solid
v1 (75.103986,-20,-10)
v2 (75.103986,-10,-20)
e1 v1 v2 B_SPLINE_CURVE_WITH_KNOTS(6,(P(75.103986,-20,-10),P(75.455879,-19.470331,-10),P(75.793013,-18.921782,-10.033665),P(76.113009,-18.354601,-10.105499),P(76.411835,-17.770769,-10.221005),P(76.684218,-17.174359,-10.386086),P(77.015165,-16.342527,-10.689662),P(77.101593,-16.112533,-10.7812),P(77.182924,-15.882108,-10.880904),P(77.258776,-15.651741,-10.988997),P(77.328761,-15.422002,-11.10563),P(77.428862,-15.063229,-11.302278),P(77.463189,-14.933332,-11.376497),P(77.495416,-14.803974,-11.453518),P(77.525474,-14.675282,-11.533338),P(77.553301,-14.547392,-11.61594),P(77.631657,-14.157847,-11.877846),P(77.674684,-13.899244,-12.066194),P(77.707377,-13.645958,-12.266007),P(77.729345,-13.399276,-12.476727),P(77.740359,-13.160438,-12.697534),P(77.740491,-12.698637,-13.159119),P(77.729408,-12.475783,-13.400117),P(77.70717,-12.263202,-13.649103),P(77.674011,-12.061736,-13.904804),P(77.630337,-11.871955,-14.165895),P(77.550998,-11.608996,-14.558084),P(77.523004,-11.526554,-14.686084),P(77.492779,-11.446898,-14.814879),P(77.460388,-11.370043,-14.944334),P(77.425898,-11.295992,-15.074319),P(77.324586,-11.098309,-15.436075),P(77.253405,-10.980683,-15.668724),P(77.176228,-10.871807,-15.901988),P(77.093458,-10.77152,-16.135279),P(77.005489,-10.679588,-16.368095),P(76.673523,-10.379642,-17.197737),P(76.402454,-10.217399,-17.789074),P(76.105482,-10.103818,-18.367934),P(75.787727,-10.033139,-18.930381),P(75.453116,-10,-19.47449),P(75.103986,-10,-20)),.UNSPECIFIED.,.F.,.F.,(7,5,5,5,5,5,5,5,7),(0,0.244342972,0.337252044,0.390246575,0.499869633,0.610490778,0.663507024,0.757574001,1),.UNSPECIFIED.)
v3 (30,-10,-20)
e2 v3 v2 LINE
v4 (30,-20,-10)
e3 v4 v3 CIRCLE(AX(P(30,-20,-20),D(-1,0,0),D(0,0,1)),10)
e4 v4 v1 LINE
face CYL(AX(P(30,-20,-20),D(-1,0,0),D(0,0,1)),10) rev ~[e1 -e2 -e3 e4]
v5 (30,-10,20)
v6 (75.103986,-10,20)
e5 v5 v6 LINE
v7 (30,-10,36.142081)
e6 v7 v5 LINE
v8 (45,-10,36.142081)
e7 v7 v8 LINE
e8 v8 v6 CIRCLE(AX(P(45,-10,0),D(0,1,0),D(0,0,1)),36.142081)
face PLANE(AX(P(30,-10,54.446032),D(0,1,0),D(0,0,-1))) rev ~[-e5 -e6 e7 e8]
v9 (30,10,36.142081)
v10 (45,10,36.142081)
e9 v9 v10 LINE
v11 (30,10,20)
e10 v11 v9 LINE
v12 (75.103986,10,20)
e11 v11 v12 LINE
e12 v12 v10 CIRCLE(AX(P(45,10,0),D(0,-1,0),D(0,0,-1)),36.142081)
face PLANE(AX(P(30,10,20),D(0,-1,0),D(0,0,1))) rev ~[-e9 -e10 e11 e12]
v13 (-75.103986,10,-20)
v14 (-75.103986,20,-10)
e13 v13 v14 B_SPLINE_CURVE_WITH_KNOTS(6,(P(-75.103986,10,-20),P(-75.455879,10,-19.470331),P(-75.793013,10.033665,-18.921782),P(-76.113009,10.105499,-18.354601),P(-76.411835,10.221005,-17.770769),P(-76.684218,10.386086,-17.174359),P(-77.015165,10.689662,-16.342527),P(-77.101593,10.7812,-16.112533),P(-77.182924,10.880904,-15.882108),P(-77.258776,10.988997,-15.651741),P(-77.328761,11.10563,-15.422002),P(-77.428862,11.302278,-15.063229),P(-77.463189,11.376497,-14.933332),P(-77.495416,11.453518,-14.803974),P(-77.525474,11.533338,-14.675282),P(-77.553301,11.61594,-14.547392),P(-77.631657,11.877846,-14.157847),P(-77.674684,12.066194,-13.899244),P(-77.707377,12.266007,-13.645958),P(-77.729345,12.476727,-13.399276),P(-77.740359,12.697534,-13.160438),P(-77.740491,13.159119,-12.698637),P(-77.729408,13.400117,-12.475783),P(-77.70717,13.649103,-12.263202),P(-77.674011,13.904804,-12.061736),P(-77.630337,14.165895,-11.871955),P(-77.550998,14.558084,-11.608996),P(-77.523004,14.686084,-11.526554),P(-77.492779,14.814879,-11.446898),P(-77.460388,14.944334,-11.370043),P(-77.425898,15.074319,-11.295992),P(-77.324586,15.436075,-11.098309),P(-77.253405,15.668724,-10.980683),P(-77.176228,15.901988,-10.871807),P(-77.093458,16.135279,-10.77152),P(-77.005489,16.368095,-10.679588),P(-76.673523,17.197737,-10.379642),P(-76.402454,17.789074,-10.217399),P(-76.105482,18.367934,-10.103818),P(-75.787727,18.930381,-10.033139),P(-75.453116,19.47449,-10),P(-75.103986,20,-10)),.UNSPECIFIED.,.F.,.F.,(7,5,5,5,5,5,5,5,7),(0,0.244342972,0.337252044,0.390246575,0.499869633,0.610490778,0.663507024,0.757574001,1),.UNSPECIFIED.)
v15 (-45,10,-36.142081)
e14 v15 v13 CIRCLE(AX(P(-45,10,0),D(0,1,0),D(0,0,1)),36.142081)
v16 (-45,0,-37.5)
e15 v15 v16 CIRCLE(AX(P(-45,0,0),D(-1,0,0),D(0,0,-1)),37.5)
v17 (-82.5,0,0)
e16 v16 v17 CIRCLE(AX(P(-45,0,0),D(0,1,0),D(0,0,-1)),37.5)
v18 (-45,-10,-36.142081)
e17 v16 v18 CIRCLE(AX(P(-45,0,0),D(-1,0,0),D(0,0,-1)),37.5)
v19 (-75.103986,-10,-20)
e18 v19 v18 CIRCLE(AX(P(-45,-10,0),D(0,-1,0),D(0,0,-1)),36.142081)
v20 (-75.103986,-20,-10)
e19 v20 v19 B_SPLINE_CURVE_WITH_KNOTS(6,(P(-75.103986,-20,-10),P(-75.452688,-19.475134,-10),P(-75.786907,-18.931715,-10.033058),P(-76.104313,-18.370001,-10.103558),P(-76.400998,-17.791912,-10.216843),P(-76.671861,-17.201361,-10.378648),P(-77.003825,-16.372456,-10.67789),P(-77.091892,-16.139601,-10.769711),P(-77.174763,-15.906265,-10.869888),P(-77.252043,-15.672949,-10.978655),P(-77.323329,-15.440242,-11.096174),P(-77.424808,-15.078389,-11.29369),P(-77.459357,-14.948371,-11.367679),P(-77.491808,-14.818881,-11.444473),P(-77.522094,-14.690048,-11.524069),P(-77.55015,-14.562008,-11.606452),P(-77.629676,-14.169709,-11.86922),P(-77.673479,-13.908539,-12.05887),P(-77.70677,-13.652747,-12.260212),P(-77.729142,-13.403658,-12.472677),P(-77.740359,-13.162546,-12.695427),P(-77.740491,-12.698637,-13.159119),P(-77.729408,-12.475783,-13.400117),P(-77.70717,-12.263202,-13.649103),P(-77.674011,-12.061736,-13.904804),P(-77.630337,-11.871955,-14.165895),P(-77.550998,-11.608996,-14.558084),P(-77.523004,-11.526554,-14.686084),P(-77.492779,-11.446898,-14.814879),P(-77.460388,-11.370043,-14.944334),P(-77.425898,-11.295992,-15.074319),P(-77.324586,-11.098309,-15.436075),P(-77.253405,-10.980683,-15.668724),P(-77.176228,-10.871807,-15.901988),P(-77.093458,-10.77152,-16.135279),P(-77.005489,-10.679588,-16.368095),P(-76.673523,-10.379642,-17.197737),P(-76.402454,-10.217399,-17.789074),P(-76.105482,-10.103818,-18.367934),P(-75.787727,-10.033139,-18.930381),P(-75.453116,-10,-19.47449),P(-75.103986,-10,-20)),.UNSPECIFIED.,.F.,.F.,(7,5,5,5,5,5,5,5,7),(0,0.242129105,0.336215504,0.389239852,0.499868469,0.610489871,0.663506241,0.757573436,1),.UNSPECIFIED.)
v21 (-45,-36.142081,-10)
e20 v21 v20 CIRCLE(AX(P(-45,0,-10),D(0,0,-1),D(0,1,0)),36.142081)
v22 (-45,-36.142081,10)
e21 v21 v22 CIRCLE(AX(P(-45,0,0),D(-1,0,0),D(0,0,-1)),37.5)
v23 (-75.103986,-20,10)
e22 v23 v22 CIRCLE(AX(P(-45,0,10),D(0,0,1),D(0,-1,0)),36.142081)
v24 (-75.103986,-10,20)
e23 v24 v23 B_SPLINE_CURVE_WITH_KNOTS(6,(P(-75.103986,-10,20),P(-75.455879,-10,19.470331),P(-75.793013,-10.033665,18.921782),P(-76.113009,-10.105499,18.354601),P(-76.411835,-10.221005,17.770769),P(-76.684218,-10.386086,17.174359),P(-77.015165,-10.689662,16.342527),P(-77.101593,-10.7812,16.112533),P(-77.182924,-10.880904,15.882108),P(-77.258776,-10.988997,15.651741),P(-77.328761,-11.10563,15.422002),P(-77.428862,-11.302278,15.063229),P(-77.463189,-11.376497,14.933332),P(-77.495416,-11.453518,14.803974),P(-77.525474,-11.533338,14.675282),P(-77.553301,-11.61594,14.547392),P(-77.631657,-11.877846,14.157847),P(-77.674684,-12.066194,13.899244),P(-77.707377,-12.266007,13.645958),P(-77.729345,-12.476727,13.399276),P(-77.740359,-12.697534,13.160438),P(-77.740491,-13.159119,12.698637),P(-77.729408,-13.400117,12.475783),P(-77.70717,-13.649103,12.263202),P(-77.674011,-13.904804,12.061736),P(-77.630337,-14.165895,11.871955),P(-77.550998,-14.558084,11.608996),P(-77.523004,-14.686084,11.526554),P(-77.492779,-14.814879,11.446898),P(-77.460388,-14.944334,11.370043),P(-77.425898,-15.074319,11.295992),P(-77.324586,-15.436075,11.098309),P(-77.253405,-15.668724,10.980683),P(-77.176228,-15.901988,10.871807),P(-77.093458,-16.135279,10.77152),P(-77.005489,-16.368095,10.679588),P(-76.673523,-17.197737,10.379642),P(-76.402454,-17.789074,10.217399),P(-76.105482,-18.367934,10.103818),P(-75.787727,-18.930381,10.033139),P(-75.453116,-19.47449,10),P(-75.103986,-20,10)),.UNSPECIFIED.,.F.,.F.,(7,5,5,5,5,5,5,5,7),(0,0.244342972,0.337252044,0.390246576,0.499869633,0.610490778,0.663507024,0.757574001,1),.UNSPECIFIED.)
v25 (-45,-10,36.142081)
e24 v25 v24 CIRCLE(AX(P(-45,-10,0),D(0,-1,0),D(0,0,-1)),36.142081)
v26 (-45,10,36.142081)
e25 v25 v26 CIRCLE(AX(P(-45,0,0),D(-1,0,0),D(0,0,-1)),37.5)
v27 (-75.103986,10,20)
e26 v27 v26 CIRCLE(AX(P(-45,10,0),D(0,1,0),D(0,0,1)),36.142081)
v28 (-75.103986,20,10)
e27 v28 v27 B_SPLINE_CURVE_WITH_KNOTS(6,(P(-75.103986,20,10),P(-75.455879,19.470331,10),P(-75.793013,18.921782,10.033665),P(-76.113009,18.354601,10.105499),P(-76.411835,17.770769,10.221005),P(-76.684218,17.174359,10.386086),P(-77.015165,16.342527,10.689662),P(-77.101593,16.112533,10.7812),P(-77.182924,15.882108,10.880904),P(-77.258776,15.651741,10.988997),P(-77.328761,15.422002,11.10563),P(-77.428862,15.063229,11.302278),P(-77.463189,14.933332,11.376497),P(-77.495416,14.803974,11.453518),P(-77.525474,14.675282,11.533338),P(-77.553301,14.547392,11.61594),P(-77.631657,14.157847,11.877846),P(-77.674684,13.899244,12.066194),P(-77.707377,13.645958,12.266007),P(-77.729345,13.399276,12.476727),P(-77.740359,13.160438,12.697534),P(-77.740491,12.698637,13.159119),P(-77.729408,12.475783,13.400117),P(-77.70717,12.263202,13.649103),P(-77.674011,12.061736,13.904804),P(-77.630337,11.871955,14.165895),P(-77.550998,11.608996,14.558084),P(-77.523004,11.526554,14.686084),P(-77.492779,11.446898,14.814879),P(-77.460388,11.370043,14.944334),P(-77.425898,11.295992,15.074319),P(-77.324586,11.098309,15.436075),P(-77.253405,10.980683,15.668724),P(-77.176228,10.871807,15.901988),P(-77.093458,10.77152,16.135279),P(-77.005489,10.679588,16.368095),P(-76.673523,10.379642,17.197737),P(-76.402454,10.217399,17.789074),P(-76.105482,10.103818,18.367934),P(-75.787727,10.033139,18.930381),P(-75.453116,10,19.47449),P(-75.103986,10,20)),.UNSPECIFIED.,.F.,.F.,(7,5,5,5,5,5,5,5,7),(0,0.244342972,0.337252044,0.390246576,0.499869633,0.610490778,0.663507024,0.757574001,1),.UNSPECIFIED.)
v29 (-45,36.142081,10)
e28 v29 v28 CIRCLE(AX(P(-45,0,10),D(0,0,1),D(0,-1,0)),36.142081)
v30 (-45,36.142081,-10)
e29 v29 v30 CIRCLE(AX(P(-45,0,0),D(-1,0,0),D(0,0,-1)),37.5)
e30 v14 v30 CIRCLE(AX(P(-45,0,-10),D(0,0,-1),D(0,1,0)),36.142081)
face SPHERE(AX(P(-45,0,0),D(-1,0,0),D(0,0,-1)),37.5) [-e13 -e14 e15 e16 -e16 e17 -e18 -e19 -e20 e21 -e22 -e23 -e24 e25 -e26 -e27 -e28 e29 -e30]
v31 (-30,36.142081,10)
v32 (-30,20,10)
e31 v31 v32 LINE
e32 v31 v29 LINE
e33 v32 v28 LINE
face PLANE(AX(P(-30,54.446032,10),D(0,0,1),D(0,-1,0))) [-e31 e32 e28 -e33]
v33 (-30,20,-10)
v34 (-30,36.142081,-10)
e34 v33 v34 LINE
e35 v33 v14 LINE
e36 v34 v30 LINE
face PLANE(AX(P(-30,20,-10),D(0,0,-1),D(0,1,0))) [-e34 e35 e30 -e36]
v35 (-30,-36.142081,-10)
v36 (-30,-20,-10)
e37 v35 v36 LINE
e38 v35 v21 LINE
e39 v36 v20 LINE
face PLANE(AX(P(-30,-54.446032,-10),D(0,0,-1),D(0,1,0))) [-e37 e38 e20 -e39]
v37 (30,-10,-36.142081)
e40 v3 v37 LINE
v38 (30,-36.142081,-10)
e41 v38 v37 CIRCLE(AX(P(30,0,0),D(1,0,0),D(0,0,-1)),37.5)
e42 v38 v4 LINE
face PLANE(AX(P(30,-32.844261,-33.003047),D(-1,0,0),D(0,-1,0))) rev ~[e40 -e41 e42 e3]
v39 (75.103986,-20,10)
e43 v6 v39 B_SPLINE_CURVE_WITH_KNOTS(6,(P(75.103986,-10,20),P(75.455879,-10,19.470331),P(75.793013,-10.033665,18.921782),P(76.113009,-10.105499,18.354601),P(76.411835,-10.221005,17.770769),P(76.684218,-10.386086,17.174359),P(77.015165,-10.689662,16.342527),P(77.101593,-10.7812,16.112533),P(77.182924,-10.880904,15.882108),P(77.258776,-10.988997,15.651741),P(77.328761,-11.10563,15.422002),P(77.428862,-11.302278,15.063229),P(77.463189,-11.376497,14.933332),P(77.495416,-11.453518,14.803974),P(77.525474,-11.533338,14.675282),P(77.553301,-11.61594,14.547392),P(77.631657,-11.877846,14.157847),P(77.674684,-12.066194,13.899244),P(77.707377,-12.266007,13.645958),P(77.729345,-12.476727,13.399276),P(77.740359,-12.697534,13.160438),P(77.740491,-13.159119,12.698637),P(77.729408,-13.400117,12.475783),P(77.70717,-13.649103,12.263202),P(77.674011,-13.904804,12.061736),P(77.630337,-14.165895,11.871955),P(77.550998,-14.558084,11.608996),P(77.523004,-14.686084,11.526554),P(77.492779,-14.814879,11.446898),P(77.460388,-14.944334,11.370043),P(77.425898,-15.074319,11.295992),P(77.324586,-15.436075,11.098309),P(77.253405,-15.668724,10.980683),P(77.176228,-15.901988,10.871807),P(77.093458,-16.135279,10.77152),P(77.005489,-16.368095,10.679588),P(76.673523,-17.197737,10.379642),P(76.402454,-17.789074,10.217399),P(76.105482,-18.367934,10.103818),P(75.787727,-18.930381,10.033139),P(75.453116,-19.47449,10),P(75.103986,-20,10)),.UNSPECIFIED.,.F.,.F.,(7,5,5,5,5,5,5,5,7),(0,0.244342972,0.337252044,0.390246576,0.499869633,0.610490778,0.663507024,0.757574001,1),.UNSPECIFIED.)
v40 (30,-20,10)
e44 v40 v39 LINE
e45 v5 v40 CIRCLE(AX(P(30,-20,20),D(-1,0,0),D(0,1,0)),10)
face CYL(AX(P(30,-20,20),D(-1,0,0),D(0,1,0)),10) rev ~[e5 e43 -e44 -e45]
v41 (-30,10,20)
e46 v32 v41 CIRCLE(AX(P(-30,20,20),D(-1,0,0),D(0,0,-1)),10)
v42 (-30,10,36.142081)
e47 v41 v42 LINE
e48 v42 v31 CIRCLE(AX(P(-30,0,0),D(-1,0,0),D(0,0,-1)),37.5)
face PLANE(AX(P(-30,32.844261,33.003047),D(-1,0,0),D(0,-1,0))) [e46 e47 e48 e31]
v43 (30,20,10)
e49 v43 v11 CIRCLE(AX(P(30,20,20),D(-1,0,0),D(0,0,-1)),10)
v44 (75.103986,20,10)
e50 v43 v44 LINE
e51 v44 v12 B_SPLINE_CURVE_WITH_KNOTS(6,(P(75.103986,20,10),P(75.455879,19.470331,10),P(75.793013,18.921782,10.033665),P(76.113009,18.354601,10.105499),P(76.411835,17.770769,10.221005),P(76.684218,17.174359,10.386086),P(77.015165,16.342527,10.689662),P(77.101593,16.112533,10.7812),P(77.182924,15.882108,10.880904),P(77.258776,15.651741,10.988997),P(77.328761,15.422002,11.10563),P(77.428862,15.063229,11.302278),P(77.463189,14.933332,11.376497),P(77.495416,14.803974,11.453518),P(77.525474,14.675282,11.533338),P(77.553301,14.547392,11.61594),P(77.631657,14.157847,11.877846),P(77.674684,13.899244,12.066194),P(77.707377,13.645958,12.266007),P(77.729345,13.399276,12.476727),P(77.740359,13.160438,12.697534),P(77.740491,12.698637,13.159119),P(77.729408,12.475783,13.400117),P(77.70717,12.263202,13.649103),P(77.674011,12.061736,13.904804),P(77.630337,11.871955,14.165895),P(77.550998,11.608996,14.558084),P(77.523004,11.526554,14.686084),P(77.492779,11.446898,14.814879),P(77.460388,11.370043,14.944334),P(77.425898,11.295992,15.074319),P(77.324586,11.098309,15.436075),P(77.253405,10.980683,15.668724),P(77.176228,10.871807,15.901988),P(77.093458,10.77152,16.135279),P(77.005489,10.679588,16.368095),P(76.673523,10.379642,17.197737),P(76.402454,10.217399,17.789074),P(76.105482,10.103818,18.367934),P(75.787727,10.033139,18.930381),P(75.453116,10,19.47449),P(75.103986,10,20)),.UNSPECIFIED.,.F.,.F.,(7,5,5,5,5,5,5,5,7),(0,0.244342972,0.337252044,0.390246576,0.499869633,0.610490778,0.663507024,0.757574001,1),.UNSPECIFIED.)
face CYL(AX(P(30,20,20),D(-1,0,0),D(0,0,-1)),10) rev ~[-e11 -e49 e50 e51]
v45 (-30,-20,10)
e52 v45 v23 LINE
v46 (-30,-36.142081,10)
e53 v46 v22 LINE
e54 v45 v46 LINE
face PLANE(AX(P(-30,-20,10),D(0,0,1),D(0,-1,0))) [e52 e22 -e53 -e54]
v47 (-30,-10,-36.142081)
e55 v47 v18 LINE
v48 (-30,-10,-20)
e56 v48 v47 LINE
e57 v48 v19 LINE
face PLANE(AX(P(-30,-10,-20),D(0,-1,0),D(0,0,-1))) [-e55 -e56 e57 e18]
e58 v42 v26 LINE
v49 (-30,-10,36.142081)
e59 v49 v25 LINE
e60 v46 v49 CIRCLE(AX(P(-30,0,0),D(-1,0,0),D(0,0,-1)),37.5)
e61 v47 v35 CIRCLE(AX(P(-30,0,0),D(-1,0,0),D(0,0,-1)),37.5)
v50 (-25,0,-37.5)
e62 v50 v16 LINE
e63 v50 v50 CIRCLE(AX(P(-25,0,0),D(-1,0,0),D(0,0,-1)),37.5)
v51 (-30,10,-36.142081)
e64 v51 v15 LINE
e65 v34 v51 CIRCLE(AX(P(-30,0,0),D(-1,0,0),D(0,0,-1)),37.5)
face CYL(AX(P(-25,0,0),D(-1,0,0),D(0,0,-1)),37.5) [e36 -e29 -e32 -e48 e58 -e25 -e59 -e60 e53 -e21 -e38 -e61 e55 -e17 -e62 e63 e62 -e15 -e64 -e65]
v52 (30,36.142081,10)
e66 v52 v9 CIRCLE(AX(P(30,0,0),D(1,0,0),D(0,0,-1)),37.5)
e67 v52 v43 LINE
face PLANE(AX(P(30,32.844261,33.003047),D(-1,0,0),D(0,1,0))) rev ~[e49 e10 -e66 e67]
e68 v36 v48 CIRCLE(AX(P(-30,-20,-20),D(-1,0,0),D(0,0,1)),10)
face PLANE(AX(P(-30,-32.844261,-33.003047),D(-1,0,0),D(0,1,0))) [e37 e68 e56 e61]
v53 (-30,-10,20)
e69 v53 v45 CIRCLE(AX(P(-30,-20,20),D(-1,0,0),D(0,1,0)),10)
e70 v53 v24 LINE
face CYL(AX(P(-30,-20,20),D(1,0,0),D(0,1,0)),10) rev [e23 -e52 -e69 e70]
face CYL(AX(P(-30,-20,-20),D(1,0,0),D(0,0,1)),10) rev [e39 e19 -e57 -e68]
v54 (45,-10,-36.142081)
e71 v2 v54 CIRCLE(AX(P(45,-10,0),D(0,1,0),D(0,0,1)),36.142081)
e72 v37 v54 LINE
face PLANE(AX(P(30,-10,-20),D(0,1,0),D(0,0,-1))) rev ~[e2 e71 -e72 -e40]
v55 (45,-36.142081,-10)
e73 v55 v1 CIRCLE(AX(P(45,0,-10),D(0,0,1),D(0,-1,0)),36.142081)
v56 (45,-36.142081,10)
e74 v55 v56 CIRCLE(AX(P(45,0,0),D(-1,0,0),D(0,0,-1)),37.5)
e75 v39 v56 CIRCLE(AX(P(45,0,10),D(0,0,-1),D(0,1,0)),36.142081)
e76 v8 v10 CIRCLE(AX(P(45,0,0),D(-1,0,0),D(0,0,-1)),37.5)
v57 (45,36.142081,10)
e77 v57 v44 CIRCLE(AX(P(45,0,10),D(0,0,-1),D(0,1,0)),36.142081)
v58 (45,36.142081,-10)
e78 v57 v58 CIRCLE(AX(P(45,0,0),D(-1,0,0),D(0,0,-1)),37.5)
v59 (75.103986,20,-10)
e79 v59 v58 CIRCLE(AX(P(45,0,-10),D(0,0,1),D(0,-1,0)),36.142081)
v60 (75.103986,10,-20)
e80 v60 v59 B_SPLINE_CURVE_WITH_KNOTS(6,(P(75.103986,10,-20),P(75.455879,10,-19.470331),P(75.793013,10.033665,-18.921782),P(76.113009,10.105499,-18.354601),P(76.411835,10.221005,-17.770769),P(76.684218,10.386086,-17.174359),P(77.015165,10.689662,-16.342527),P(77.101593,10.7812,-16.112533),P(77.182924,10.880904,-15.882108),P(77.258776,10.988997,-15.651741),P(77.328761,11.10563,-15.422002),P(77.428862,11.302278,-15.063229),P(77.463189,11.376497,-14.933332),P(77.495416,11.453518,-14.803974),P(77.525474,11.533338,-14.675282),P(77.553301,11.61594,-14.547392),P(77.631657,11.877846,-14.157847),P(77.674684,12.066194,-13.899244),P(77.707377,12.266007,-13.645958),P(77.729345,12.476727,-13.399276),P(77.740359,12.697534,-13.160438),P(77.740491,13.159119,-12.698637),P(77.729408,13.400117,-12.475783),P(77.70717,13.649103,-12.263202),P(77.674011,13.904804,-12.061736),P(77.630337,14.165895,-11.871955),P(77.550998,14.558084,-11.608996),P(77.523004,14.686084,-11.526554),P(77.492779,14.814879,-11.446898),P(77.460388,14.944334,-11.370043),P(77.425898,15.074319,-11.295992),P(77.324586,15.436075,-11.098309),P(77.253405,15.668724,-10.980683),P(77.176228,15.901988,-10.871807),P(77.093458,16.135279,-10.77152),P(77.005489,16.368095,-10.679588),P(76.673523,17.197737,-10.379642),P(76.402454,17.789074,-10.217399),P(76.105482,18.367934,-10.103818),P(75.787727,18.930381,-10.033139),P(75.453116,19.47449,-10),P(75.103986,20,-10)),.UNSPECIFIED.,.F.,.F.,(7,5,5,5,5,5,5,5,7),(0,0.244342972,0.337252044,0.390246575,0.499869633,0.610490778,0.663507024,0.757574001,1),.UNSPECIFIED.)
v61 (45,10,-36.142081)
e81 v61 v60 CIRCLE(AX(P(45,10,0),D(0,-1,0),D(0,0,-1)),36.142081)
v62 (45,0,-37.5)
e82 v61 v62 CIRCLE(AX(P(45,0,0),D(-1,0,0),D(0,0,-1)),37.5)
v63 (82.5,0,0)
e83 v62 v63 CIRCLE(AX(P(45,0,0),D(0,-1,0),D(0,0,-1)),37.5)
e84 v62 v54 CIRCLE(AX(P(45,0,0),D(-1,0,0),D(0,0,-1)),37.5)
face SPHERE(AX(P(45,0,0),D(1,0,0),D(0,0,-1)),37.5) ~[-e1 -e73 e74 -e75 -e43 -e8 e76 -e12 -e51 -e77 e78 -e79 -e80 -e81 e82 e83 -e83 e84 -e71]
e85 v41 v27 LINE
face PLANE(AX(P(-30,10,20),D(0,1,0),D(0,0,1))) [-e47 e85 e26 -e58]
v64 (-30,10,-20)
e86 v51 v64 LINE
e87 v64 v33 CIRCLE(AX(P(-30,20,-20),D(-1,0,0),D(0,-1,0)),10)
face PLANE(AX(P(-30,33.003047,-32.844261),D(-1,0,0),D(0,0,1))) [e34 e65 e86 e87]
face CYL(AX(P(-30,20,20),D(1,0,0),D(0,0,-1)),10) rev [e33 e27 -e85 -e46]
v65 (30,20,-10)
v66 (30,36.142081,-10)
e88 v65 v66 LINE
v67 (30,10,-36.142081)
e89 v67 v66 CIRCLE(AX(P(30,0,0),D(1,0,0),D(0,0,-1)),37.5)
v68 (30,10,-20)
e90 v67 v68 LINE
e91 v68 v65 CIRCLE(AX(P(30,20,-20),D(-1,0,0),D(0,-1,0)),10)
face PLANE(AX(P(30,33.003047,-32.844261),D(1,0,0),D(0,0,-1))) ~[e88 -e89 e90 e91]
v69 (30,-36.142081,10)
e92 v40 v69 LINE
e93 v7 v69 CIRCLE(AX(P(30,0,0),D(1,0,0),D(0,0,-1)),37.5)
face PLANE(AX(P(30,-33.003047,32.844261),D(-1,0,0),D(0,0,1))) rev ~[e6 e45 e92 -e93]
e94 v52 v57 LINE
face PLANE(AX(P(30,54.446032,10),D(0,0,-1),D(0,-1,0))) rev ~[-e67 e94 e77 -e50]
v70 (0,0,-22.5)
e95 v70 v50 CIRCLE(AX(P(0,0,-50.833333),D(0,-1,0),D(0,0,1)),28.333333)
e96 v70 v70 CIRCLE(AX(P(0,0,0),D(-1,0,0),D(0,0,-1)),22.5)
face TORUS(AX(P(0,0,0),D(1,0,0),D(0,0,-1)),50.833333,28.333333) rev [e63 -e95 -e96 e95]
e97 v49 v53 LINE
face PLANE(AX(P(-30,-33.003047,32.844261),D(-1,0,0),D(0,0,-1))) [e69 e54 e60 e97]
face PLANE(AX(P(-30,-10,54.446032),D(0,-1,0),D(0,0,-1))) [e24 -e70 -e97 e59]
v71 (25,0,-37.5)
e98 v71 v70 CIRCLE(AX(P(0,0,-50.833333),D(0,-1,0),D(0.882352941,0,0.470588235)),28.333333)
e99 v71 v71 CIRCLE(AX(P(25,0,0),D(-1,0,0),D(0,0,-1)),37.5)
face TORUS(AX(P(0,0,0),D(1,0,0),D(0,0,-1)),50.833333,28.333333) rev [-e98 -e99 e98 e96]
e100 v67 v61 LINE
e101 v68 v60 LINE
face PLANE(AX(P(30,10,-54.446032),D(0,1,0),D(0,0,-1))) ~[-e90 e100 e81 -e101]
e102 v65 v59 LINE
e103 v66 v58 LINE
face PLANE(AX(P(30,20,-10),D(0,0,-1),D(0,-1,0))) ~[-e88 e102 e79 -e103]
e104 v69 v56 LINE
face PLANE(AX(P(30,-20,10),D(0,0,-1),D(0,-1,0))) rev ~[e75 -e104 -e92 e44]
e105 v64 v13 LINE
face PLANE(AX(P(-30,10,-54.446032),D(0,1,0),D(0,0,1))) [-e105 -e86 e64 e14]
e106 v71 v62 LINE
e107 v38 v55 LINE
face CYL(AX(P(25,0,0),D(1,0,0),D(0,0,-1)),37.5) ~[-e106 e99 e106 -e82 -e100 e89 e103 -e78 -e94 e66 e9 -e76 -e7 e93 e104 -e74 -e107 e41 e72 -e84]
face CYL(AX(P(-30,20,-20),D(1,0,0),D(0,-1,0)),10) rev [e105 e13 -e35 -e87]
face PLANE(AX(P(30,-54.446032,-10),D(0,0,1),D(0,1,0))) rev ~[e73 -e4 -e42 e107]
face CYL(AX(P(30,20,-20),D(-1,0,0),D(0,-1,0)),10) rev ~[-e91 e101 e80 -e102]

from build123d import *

# Parameters (mm, degrees)
SKETCH_1_W               = 5
SKETCH_1_H               = 37.5
CUT_EXTRUDE_1_DEPTH      = 77.40353395
PATTERN_CIRCULAR_1_COUNT = 4
MIRROR_2_COPY_1_DEPTH    = 77.40353395
MIRROR_2_COPY_2_DEPTH    = 77.40353395
MIRROR_2_COPY_3_DEPTH    = 77.40353395


with BuildPart() as part:
    # 草图1 → 旋转1 (revolve)
    with BuildSketch(Plane(origin=(0, 0, 0), x_dir=(1, 0, 0), z_dir=(0, 1, 0))):
        with BuildLine():
            Line((-82.5, 0), (-30, 0))
            Line((-30, 0), (-30, 37.5))
            Line((-30, 37.5), (-45, 37.5))
            ThreePointArc((-45, 37.5), (-71.516504294, 26.516504294), (-82.5, 0))
        make_face()
        with Locations((-27.5, 18.75)):
            Rectangle(SKETCH_1_W, SKETCH_1_H)
        with BuildLine():
            Line((-25, 0), (0, 0))
            Line((0, 0), (0, 22.5))
            ThreePointArc((0, 22.5), (-14.577379737, 26.537700438), (-25, 37.5))
            Line((-25, 37.5), (-25, 0))
        make_face()
        with BuildLine():
            Line((0, 22.5), (0, 0))
            Line((0, 0), (25, 0))
            Line((25, 0), (25, 37.5))
            ThreePointArc((25, 37.5), (14.577379737, 26.537700438), (0, 22.5))
        make_face()
    revolve_1 = revolve(axis=Axis((0, 0, 0), (-1, 0, 0)))

    # 草图2 → 切除-拉伸1 (cut, through all)
    with BuildSketch(Plane(origin=(-30, 0, 0), x_dir=(0, 0, -1), z_dir=(1, 0, 0))):
        with BuildLine():
            Line((10, 54.755645053), (54.446031679, 54.755645053))
            Line((54.446031679, 54.755645053), (54.446031679, 10))
            Line((54.446031679, 10), (20, 10))
            ThreePointArc((20, 10), (12.928932188, 12.928932188), (10, 20))
            Line((10, 20), (10, 54.755645053))
        make_face()
    cut_extrude_1 = extrude(amount=-CUT_EXTRUDE_1_DEPTH, mode=Mode.SUBTRACT)

    # 阵列(圆周)1: 切除-拉伸1 ×4 about axis
    pattern_circular_1_axis = Axis((0, 0, 0), (1, 0, 0))
    for i in range(1, PATTERN_CIRCULAR_1_COUNT):
        add(cut_extrude_1.rotate(pattern_circular_1_axis, i * 360 / PATTERN_CIRCULAR_1_COUNT), mode=Mode.SUBTRACT)

    # 镜向2: 旋转1, 切除-拉伸1 across plane
    add(revolve_1.mirror(Plane(origin=(0, 0, 0), x_dir=(0, 0, 1), z_dir=(1, 0, 0))))
    add(cut_extrude_1.mirror(Plane(origin=(0, 0, 0), x_dir=(0, 0, 1), z_dir=(1, 0, 0))), mode=Mode.SUBTRACT)

    # 镜向2 copy 1 sketch → 镜向2 copy 1 (cut, through all)
    with BuildSketch(Plane(origin=(30, 0, 0), x_dir=(0, 1, 0), z_dir=(-1, 0, 0))):
        with BuildLine():
            Line((10, -54.755645053), (54.446031679, -54.755645053))
            Line((54.446031679, -54.755645053), (54.446031679, -10))
            Line((54.446031679, -10), (20, -10))
            ThreePointArc((20, -10), (12.928932188, -12.928932188), (10, -20))
            Line((10, -20), (10, -54.755645053))
        make_face()
    extrude(amount=-MIRROR_2_COPY_1_DEPTH, mode=Mode.SUBTRACT)

    # 镜向2 copy 2 sketch → 镜向2 copy 2 (cut, through all)
    with BuildSketch(Plane.ZY.offset(-30)):
        with BuildLine():
            Line((10, -54.755645053), (54.446031679, -54.755645053))
            Line((54.446031679, -54.755645053), (54.446031679, -10))
            Line((54.446031679, -10), (20, -10))
            ThreePointArc((20, -10), (12.928932188, -12.928932188), (10, -20))
            Line((10, -20), (10, -54.755645053))
        make_face()
    extrude(amount=-MIRROR_2_COPY_2_DEPTH, mode=Mode.SUBTRACT)

    # 镜向2 copy 3 sketch → 镜向2 copy 3 (cut, through all)
    with BuildSketch(Plane(origin=(30, 0, 0), x_dir=(0, -1, 0), z_dir=(-1, 0, 0))):
        with BuildLine():
            Line((10, -54.755645053), (54.446031679, -54.755645053))
            Line((54.446031679, -54.755645053), (54.446031679, -10))
            Line((54.446031679, -10), (20, -10))
            ThreePointArc((20, -10), (12.928932188, -12.928932188), (10, -20))
            Line((10, -20), (10, -54.755645053))
        make_face()
    extrude(amount=-MIRROR_2_COPY_3_DEPTH, mode=Mode.SUBTRACT)


solid = part.part
